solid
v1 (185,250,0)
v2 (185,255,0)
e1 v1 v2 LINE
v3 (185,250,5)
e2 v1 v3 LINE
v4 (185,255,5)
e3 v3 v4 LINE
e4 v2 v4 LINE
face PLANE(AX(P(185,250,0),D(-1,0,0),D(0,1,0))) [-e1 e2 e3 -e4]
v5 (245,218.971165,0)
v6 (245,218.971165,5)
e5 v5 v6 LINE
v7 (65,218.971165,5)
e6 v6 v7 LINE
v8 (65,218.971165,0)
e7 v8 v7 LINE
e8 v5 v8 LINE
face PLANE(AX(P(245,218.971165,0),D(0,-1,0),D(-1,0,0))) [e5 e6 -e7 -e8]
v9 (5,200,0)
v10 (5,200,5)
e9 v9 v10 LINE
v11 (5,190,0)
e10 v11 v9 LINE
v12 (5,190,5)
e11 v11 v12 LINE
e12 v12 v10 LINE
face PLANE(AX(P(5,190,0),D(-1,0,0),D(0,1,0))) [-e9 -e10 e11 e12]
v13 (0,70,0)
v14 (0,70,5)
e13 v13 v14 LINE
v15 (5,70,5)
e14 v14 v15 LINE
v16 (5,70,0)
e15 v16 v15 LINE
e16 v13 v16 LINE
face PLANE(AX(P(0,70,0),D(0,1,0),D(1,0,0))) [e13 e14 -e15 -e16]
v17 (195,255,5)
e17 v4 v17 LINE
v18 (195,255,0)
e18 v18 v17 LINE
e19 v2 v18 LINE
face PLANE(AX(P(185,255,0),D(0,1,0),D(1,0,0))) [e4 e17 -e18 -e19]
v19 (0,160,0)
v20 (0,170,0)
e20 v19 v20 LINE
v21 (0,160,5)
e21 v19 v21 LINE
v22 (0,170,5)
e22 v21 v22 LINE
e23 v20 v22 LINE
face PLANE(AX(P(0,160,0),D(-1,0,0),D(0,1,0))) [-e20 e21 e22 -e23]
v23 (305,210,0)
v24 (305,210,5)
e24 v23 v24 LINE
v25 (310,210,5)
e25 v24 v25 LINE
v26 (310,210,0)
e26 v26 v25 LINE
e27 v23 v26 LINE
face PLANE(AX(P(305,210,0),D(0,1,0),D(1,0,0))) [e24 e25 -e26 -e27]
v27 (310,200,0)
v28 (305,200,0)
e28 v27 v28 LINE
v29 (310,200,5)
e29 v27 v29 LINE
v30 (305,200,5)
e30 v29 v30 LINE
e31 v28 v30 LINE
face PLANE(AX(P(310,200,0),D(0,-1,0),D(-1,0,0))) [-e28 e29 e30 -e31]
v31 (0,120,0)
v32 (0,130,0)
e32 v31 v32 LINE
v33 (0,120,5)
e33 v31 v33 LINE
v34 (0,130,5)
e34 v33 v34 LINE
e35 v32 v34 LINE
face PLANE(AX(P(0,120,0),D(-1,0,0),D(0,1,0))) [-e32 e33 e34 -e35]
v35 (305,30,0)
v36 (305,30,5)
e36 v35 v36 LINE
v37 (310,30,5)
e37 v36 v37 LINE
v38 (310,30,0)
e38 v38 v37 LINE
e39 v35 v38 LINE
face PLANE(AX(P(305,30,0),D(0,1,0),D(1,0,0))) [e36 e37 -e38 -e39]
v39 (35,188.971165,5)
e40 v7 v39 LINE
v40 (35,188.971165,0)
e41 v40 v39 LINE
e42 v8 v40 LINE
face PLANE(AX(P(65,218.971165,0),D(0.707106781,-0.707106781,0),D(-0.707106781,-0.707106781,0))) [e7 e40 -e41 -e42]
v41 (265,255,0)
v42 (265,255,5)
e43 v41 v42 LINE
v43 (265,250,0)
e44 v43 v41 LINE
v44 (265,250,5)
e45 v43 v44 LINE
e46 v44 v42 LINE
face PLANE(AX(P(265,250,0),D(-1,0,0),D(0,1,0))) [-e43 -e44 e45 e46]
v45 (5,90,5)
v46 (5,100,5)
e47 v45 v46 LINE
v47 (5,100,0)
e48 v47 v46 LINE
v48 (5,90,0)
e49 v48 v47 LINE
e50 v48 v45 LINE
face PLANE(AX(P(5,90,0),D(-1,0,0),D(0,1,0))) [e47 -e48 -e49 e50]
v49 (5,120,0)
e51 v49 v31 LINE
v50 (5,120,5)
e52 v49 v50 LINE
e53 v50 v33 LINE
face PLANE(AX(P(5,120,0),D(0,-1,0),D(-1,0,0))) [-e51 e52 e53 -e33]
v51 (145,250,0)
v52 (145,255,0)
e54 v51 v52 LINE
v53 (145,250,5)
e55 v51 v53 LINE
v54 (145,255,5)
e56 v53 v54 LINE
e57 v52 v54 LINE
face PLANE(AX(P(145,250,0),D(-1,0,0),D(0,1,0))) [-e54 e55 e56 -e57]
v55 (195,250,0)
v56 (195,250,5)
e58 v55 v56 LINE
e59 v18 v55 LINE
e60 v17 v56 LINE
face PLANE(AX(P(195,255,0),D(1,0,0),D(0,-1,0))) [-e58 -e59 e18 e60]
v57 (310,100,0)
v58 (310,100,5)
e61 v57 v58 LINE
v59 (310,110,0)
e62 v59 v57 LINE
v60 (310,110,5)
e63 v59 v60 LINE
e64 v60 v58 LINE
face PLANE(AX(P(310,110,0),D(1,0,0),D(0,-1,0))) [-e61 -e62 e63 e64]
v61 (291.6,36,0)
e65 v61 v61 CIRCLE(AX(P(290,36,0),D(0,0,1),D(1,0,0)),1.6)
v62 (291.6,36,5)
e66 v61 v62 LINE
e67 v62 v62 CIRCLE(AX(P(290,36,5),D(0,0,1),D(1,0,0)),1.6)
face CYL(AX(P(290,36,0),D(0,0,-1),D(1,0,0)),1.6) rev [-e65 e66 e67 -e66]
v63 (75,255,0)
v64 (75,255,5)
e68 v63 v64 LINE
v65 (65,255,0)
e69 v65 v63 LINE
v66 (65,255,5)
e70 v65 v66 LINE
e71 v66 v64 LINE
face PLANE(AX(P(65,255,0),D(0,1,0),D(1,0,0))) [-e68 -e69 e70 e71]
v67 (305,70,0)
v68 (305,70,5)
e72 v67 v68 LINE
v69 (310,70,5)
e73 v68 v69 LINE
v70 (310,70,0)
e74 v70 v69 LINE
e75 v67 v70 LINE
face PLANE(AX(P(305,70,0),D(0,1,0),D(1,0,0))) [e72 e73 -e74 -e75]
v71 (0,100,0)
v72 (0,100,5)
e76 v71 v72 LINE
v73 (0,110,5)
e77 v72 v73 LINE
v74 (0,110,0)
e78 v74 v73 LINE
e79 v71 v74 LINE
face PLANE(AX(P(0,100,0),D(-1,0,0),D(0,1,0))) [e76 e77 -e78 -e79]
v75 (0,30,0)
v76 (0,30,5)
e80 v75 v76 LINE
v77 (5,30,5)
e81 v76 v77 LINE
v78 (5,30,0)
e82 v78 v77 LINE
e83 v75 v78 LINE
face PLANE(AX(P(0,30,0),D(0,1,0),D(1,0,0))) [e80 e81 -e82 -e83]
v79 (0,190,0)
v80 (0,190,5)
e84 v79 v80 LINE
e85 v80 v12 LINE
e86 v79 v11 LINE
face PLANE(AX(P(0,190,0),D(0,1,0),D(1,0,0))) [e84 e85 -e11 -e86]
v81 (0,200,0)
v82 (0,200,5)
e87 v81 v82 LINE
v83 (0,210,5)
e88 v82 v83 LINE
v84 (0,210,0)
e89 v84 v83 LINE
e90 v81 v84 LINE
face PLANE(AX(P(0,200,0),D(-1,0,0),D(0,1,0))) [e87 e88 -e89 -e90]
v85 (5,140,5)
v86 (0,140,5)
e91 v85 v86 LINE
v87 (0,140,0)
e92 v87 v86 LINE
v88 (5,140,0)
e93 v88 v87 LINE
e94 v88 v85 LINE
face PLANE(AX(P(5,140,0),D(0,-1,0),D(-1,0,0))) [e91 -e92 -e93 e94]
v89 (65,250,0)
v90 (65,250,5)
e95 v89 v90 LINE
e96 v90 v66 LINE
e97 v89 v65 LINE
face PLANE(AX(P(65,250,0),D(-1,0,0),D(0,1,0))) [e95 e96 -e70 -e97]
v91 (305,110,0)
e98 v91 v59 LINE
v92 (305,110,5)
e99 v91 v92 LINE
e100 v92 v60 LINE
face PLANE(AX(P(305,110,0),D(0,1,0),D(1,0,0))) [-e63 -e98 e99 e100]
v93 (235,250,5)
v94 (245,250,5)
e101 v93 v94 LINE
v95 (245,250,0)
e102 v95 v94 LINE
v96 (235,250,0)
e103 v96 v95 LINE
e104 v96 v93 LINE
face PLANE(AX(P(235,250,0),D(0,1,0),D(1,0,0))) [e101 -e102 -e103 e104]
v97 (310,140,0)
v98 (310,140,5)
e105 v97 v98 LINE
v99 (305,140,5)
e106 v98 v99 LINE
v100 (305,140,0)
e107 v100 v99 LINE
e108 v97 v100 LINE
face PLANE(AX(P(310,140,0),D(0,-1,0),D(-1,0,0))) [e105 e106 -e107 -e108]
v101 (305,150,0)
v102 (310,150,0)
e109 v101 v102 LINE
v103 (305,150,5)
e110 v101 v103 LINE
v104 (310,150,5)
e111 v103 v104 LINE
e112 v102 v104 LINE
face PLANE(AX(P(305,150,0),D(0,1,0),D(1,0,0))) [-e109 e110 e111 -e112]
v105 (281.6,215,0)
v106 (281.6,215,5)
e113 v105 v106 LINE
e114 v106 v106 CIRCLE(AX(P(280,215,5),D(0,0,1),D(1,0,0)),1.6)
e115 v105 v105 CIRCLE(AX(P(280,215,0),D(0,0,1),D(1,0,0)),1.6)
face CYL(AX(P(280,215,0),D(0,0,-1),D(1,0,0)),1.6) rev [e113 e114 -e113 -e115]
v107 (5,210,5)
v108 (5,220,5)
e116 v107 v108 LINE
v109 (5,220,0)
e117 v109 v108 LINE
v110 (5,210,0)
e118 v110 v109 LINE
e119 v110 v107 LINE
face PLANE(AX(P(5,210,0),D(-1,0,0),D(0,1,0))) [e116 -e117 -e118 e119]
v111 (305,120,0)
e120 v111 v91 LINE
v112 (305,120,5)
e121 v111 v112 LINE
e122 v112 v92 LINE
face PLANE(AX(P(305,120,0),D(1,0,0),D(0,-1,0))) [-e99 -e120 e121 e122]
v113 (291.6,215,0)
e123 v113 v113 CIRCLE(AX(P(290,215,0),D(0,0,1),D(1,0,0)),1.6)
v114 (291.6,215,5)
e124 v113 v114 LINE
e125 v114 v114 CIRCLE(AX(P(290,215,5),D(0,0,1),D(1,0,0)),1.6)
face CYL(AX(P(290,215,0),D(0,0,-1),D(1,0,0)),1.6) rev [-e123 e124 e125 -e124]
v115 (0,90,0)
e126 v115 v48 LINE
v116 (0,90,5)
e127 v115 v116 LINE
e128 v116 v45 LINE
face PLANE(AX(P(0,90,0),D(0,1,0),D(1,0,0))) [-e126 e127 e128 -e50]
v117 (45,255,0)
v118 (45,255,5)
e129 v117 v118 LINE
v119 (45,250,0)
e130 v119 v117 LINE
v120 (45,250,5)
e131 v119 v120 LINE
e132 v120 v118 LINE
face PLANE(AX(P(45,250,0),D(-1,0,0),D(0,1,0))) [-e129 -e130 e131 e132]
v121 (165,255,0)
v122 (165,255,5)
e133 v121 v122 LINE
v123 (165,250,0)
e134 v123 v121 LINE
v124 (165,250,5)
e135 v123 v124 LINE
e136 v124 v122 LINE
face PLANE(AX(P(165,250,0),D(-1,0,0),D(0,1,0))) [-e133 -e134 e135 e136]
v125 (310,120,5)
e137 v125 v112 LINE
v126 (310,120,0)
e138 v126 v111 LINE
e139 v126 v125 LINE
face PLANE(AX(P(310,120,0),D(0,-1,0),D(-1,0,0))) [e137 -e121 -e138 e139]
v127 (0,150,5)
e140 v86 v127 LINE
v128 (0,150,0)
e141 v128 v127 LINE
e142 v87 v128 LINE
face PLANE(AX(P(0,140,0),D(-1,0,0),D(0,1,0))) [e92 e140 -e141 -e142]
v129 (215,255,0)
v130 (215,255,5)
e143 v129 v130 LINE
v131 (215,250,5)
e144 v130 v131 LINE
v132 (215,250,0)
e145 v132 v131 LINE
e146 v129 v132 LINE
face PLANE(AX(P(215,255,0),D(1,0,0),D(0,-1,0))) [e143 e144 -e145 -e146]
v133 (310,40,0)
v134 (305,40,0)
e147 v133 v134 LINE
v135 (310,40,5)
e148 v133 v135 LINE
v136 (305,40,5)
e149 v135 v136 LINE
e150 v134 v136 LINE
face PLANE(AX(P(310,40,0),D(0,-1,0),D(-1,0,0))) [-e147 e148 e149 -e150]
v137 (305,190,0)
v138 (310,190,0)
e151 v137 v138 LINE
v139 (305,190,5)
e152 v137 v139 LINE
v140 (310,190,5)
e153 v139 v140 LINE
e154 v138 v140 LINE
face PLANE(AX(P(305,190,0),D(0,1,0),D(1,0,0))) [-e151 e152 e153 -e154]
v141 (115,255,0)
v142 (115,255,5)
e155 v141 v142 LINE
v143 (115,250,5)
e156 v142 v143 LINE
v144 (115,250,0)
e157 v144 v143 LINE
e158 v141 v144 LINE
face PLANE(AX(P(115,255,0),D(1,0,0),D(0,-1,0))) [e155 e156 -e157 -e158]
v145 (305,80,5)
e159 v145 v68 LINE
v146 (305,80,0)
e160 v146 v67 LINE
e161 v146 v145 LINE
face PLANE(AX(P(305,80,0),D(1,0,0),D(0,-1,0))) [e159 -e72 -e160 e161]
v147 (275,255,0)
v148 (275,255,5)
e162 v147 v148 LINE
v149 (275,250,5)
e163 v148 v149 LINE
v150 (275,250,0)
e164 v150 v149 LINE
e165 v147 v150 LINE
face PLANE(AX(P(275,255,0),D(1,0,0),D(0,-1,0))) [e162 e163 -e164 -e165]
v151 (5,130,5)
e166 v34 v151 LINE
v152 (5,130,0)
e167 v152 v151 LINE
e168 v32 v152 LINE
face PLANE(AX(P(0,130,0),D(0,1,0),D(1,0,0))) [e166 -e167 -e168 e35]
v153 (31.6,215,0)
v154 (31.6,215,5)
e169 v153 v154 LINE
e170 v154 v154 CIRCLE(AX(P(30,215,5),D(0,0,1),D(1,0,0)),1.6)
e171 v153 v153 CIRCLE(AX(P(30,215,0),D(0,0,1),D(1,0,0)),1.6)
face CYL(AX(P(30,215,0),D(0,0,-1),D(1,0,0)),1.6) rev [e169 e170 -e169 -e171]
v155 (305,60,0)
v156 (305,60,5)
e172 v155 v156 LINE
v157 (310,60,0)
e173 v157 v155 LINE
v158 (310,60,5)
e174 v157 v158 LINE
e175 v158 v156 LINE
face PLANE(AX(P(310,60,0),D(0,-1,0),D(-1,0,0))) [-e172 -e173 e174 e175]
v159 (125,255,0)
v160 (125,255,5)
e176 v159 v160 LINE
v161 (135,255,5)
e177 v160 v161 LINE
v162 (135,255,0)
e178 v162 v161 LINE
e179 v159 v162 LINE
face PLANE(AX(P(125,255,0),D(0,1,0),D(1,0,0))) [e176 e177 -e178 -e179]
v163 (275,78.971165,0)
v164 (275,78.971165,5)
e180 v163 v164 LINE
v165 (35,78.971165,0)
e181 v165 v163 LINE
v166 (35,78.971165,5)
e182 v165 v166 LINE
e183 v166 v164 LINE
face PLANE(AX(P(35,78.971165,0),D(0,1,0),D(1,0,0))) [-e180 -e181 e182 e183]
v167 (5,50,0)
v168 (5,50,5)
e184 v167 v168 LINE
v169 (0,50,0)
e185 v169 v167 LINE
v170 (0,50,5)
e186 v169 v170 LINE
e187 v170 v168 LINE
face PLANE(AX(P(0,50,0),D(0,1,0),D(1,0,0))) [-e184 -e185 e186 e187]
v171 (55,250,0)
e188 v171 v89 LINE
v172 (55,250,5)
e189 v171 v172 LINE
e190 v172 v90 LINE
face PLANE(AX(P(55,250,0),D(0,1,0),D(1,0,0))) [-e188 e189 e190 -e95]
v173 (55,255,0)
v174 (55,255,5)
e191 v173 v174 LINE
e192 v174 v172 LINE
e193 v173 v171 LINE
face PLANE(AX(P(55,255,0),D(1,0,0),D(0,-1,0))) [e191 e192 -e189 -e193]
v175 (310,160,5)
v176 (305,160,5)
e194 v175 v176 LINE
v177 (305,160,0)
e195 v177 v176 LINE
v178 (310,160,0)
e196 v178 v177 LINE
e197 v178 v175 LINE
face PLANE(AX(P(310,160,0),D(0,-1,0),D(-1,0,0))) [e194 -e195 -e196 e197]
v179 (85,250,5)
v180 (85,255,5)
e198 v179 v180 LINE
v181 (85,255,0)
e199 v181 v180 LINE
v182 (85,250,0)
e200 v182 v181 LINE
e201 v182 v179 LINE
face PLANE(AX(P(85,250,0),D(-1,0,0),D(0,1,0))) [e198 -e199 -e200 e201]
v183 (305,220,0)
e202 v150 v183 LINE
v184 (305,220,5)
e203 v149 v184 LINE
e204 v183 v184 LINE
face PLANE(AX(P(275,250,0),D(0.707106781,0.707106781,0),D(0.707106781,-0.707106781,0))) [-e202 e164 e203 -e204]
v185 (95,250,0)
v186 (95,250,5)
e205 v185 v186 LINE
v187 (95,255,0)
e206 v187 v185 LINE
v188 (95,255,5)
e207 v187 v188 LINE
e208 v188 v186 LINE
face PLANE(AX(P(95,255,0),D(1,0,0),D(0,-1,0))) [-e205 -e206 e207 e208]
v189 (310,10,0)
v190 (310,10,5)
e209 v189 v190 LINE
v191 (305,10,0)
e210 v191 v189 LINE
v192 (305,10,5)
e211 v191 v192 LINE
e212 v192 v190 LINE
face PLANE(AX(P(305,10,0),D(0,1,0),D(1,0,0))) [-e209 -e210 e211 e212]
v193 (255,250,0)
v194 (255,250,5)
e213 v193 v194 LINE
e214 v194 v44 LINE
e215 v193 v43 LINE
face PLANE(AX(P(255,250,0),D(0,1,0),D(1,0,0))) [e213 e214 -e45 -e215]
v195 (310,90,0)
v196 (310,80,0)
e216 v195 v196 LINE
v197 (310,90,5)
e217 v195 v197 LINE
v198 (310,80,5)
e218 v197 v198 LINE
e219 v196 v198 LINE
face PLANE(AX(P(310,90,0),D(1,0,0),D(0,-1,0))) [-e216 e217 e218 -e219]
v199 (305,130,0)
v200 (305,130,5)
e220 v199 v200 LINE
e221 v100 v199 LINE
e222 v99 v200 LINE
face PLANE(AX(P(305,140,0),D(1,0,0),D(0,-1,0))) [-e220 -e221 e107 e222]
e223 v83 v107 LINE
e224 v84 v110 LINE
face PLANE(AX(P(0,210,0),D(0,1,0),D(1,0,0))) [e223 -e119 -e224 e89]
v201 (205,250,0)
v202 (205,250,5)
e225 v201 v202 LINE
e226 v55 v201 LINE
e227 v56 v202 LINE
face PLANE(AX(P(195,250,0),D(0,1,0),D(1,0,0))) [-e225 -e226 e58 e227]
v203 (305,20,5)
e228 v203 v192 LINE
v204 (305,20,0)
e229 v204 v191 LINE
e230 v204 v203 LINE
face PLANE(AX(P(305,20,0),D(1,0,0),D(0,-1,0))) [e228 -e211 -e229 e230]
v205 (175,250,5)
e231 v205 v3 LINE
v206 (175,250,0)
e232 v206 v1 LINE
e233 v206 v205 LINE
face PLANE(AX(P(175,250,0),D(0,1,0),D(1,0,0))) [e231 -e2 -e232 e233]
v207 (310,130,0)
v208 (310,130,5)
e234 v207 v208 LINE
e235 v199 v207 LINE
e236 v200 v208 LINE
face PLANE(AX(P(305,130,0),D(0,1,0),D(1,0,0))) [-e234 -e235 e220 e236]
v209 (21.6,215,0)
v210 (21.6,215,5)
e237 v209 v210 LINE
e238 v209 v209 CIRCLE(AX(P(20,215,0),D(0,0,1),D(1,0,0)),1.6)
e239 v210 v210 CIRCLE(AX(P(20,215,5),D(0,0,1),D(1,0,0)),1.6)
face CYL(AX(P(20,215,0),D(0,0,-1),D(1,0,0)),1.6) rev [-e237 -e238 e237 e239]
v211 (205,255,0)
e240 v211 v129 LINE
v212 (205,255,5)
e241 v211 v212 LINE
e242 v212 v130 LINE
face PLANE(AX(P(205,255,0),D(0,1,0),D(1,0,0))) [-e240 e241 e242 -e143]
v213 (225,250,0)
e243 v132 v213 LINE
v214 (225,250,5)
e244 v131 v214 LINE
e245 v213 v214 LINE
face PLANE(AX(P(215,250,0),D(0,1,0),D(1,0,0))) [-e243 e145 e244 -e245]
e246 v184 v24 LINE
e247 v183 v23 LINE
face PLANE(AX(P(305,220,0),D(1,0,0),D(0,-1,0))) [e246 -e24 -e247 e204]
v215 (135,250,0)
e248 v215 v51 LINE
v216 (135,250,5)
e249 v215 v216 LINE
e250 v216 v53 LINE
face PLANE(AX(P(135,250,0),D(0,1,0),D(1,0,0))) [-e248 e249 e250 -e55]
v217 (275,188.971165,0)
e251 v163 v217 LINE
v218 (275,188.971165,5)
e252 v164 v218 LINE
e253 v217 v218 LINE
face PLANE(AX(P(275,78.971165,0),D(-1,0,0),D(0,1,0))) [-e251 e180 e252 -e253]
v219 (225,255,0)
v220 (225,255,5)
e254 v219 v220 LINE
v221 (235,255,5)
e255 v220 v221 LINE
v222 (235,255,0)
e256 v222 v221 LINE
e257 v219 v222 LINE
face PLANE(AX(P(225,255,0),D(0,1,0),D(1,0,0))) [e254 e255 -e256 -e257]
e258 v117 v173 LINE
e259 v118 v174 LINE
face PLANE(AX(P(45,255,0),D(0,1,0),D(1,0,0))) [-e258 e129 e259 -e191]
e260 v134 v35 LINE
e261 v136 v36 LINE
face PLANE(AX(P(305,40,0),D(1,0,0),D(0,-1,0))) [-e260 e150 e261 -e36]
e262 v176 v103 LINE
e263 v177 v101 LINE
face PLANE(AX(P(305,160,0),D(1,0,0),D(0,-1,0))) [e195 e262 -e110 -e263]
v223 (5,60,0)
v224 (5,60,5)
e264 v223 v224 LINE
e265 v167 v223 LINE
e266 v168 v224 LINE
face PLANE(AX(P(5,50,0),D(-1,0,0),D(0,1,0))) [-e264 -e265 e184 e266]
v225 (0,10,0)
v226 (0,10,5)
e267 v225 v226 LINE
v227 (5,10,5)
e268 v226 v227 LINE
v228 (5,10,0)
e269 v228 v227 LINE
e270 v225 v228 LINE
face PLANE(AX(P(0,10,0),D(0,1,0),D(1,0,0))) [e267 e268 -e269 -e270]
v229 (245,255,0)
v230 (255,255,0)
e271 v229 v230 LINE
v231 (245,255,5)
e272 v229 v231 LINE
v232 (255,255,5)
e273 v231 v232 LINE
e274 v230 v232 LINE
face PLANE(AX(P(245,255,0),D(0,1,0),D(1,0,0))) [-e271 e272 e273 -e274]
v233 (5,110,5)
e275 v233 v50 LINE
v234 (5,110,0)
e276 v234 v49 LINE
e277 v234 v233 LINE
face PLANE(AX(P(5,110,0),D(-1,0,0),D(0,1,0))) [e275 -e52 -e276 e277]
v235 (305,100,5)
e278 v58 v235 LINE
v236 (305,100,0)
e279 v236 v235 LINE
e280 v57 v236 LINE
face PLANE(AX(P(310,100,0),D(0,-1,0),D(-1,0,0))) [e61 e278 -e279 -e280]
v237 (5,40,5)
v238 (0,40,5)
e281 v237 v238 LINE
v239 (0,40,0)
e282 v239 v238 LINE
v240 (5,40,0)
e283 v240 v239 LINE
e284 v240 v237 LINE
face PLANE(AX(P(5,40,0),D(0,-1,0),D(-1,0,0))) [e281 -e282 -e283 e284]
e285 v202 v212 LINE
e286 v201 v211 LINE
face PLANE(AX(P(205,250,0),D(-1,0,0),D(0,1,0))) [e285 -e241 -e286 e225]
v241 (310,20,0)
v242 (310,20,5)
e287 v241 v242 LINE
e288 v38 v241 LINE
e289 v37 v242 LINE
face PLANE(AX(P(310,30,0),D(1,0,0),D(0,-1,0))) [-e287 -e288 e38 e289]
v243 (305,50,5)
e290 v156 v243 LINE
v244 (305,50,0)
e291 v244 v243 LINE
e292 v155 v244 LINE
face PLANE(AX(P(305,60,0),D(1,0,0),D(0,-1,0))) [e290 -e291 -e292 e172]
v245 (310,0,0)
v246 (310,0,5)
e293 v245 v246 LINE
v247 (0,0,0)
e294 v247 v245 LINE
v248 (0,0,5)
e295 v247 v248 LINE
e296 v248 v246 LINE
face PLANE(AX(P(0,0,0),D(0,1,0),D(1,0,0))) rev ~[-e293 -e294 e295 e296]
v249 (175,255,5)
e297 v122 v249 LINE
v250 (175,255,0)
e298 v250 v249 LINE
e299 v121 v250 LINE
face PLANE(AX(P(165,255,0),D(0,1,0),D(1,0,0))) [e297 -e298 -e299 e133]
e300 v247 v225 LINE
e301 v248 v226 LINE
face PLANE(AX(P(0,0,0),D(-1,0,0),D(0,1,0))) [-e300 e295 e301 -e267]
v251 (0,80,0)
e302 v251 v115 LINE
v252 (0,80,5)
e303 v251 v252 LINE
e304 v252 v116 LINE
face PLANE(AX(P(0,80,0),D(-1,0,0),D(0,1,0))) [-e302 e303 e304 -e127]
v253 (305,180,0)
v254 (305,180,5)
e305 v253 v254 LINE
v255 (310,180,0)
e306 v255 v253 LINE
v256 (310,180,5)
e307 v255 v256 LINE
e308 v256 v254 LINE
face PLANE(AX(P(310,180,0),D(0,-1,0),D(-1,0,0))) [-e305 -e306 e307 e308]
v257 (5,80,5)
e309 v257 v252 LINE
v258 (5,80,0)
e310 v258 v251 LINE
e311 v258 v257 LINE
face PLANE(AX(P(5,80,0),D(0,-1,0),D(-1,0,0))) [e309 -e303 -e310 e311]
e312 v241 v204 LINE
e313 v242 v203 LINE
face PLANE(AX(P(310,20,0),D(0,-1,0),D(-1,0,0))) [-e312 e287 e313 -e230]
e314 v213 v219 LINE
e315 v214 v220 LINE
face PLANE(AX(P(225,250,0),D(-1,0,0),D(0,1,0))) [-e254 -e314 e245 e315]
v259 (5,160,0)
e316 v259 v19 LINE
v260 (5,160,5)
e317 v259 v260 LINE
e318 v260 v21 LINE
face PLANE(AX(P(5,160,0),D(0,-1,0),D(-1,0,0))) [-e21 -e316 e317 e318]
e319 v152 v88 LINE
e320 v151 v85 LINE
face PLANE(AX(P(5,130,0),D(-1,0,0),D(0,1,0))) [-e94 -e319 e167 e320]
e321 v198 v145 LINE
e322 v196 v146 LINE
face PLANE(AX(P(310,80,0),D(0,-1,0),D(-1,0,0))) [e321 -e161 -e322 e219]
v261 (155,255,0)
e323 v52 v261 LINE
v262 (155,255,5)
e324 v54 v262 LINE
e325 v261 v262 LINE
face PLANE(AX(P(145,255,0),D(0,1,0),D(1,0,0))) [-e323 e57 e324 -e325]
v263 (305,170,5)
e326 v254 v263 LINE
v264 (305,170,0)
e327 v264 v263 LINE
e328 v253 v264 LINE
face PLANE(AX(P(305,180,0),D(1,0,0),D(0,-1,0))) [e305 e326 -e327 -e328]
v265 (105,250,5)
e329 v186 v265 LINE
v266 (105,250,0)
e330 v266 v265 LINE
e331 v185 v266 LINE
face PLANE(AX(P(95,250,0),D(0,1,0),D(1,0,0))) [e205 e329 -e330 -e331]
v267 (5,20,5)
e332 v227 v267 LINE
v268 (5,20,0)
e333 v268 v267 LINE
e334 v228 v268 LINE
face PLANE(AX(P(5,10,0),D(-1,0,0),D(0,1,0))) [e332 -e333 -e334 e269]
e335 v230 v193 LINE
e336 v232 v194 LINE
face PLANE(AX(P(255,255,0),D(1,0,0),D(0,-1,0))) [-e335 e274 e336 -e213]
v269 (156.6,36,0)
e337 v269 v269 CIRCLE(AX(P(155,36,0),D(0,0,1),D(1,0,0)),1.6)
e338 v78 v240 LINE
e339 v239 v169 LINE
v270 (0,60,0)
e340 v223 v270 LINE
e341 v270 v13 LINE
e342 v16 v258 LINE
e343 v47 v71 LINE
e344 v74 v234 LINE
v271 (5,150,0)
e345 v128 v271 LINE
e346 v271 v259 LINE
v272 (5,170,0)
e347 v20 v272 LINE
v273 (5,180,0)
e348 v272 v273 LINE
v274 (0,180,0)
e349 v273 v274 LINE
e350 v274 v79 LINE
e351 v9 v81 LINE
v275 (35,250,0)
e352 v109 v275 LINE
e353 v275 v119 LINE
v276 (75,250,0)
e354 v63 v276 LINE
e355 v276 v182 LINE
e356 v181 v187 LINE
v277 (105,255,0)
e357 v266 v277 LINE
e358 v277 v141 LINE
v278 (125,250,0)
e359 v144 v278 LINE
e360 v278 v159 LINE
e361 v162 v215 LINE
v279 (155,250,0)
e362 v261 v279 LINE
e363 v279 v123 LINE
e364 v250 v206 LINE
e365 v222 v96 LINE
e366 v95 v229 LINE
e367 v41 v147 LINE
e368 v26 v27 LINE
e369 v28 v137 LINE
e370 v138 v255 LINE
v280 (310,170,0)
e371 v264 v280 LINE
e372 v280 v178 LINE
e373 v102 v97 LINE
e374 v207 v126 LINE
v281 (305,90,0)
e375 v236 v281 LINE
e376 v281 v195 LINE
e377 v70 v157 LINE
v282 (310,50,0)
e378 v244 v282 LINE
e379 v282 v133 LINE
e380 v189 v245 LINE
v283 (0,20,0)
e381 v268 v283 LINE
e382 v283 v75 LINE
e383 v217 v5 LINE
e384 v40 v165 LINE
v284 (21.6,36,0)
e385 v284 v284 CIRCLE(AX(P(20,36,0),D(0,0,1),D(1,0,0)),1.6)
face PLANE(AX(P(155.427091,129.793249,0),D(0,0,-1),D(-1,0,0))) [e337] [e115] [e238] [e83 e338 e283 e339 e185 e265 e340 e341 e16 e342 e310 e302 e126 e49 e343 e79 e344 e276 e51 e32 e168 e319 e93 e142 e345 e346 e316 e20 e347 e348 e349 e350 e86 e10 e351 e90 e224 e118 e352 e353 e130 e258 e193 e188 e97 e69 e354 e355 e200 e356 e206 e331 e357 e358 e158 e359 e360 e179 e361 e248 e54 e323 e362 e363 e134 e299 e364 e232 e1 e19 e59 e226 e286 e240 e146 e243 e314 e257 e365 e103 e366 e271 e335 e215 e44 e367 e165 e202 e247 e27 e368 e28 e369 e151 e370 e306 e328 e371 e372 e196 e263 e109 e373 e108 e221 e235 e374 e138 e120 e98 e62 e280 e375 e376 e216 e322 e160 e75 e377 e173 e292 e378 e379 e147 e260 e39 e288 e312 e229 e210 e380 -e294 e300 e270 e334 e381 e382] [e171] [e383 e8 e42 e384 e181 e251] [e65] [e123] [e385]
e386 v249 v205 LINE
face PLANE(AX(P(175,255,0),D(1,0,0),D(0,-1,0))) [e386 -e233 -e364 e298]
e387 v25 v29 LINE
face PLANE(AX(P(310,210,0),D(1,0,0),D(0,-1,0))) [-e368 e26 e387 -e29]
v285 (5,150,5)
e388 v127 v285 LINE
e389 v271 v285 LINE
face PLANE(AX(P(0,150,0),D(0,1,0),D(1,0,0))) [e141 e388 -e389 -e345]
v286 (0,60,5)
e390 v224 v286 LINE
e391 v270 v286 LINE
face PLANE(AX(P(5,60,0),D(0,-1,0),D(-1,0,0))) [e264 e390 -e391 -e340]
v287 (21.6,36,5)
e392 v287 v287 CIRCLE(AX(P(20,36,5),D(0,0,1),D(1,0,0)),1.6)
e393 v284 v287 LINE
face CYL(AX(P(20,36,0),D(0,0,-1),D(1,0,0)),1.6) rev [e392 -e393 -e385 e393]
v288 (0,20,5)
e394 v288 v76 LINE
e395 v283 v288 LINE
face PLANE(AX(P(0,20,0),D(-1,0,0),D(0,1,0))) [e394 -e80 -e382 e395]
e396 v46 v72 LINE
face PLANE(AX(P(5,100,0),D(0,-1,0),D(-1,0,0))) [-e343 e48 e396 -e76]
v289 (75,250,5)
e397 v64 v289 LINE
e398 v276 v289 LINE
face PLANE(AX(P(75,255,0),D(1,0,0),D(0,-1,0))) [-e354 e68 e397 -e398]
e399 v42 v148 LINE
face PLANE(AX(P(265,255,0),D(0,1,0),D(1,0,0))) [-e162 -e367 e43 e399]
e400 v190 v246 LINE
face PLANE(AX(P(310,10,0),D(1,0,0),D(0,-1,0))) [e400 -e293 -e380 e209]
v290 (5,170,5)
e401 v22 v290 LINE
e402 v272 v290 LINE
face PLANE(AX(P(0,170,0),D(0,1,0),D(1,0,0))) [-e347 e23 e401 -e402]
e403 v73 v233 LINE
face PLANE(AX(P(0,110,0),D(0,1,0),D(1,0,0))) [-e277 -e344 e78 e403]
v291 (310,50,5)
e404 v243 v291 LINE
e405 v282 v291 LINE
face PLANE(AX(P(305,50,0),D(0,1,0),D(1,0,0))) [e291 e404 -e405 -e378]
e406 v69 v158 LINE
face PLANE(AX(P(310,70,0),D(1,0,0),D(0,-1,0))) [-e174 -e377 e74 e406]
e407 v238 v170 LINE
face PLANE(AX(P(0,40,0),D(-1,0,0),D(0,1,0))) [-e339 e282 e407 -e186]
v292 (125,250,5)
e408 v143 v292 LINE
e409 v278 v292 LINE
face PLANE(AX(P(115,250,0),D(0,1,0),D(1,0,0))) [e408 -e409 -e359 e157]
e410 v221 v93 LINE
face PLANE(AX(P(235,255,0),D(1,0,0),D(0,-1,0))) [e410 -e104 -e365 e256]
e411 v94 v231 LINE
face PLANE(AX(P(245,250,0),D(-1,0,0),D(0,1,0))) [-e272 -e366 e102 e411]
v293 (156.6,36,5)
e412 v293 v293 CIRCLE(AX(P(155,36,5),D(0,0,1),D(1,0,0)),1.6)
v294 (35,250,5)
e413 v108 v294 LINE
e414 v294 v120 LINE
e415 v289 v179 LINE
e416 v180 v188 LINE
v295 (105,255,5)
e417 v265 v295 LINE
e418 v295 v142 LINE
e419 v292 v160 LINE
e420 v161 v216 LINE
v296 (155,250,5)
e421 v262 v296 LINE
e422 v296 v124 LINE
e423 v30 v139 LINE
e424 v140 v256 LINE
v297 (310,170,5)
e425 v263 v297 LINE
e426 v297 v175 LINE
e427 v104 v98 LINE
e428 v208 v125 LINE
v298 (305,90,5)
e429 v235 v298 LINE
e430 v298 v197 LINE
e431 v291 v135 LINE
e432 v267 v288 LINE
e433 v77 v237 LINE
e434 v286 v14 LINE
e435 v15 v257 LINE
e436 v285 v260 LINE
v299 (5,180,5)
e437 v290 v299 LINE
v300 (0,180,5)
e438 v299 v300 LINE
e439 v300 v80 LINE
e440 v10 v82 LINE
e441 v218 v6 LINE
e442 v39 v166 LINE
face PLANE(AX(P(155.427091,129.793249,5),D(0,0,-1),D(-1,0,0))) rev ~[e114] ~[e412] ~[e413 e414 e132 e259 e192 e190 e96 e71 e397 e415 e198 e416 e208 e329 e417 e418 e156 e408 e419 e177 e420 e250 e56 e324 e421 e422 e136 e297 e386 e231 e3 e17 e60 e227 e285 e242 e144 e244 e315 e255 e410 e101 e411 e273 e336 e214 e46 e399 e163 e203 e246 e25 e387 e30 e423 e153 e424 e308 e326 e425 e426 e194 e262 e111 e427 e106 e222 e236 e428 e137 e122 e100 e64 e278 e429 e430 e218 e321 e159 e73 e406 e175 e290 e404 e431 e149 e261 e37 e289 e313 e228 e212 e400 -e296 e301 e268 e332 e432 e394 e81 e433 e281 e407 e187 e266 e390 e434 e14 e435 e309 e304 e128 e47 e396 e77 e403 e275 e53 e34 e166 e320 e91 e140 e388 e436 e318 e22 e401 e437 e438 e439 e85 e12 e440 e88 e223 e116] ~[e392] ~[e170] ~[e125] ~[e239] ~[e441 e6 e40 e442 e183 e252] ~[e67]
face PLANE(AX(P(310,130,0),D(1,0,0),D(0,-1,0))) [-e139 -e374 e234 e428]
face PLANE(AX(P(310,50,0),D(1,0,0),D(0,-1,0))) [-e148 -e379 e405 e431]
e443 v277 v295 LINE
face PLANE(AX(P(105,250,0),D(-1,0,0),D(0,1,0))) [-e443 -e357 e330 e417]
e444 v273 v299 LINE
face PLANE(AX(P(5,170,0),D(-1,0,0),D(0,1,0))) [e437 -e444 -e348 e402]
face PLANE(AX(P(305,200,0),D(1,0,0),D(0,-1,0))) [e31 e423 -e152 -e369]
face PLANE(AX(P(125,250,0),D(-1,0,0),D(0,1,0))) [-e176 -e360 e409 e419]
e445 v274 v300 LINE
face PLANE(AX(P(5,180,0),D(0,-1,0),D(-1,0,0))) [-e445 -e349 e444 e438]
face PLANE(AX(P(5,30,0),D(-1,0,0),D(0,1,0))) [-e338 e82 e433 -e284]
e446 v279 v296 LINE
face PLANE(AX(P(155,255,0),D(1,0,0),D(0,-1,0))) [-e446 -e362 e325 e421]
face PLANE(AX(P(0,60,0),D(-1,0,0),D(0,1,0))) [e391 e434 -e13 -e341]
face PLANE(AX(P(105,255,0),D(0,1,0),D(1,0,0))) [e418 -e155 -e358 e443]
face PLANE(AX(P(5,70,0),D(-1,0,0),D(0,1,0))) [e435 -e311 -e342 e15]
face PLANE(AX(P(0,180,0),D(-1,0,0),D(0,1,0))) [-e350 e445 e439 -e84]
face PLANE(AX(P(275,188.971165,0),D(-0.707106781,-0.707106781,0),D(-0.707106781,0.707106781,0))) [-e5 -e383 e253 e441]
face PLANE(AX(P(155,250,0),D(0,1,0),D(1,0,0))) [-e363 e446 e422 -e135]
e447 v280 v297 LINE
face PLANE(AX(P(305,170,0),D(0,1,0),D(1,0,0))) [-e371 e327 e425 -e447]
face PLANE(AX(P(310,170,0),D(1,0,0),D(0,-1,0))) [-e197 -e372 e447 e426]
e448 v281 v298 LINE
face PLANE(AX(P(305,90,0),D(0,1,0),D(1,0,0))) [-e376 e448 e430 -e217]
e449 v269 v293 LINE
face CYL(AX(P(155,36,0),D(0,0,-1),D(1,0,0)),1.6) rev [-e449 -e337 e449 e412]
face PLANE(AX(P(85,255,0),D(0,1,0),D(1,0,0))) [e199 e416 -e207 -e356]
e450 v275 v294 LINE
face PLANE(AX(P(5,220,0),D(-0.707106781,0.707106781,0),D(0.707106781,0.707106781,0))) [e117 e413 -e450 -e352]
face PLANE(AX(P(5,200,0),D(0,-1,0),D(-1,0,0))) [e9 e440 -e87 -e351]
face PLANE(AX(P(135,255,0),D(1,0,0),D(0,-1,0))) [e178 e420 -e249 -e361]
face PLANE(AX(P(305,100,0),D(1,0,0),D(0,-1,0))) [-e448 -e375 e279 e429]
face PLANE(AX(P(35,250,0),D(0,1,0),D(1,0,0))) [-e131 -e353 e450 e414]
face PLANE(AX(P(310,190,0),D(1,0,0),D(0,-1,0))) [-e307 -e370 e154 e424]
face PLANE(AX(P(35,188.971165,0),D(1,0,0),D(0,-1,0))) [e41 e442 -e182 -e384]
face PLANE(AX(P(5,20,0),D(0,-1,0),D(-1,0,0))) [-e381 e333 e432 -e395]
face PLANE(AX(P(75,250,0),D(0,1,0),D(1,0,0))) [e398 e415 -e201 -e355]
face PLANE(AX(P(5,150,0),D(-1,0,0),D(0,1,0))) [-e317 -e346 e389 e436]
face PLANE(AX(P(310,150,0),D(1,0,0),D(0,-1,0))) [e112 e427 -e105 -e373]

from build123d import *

# Parameters (mm, degrees)
SKIZZE1_R                       = 1.6
AUFSATZ_LINEAR_AUSTRAGEN1_DEPTH = 5


with BuildPart() as part:
    # Skizze1 → Aufsatz-Linear austragen1 (new body)
    with BuildSketch(Plane.XY):
        Polygon((5, 10), (5, 20), (0, 20), (0, 30), (5, 30), (5, 40), (0, 40), (0, 50), (5, 50), (5, 60), (0, 60), (0, 70), (5, 70), (5, 80), (0, 80), (0, 90), (5, 90), (5, 100), (0, 100), (0, 110), (5, 110), (5, 120), (0, 120), (0, 130), (5, 130), (5, 140), (0, 140), (0, 150), (5, 150), (5, 160), (0, 160), (0, 170), (5, 170), (5, 180), (0, 180), (0, 190), (5, 190), (5, 200), (0, 200), (0, 210), (5, 210), (5, 220), (35, 250), (45, 250), (45, 255), (55, 255), (55, 250), (65, 250), (65, 255), (75, 255), (75, 250), (85, 250), (85, 255), (95, 255), (95, 250), (105, 250), (105, 255), (115, 255), (115, 250), (125, 250), (125, 255), (135, 255), (135, 250), (145, 250), (145, 255), (155, 255), (155, 250), (165, 250), (165, 255), (175, 255), (175, 250), (185, 250), (185, 255), (195, 255), (195, 250), (205, 250), (205, 255), (215, 255), (215, 250), (225, 250), (225, 255), (235, 255), (235, 250), (245, 250), (245, 255), (255, 255), (255, 250), (265, 250), (265, 255), (275, 255), (275, 250), (305, 220), (305, 210), (310, 210), (310, 200), (305, 200), (305, 190), (310, 190), (310, 180), (305, 180), (305, 170), (310, 170), (310, 160), (305, 160), (305, 150), (310, 150), (310, 140), (305, 140), (305, 130), (310, 130), (310, 120), (305, 120), (305, 110), (310, 110), (310, 100), (305, 100), (305, 90), (310, 90), (310, 80), (305, 80), (305, 70), (310, 70), (310, 60), (305, 60), (305, 50), (310, 50), (310, 40), (305, 40), (305, 30), (310, 30), (310, 20), (305, 20), (305, 10), (310, 10), (310, 0), (305, 0), (5, 0), (0, 0), (0, 10), align=None)
        with Locations((290, 214.999999999)):
            Circle(SKIZZE1_R, mode=Mode.SUBTRACT)
        with Locations((280, 214.999999999)):
            Circle(SKIZZE1_R, mode=Mode.SUBTRACT)
        with Locations((20, 215)):
            Circle(SKIZZE1_R, mode=Mode.SUBTRACT)
        with Locations((30, 215)):
            Circle(SKIZZE1_R, mode=Mode.SUBTRACT)
        with Locations((20, 36)):
            Circle(SKIZZE1_R, mode=Mode.SUBTRACT)
        with Locations((155, 36)):
            Circle(SKIZZE1_R, mode=Mode.SUBTRACT)
        with Locations((290, 36)):
            Circle(SKIZZE1_R, mode=Mode.SUBTRACT)
        Polygon((275, 188.971165398), (245, 218.971165398), (65, 218.971165398), (35, 188.971165398), (35, 78.971165398), (275, 78.971165398), align=None, mode=Mode.SUBTRACT)
    extrude(amount=AUFSATZ_LINEAR_AUSTRAGEN1_DEPTH)


solid = part.part
